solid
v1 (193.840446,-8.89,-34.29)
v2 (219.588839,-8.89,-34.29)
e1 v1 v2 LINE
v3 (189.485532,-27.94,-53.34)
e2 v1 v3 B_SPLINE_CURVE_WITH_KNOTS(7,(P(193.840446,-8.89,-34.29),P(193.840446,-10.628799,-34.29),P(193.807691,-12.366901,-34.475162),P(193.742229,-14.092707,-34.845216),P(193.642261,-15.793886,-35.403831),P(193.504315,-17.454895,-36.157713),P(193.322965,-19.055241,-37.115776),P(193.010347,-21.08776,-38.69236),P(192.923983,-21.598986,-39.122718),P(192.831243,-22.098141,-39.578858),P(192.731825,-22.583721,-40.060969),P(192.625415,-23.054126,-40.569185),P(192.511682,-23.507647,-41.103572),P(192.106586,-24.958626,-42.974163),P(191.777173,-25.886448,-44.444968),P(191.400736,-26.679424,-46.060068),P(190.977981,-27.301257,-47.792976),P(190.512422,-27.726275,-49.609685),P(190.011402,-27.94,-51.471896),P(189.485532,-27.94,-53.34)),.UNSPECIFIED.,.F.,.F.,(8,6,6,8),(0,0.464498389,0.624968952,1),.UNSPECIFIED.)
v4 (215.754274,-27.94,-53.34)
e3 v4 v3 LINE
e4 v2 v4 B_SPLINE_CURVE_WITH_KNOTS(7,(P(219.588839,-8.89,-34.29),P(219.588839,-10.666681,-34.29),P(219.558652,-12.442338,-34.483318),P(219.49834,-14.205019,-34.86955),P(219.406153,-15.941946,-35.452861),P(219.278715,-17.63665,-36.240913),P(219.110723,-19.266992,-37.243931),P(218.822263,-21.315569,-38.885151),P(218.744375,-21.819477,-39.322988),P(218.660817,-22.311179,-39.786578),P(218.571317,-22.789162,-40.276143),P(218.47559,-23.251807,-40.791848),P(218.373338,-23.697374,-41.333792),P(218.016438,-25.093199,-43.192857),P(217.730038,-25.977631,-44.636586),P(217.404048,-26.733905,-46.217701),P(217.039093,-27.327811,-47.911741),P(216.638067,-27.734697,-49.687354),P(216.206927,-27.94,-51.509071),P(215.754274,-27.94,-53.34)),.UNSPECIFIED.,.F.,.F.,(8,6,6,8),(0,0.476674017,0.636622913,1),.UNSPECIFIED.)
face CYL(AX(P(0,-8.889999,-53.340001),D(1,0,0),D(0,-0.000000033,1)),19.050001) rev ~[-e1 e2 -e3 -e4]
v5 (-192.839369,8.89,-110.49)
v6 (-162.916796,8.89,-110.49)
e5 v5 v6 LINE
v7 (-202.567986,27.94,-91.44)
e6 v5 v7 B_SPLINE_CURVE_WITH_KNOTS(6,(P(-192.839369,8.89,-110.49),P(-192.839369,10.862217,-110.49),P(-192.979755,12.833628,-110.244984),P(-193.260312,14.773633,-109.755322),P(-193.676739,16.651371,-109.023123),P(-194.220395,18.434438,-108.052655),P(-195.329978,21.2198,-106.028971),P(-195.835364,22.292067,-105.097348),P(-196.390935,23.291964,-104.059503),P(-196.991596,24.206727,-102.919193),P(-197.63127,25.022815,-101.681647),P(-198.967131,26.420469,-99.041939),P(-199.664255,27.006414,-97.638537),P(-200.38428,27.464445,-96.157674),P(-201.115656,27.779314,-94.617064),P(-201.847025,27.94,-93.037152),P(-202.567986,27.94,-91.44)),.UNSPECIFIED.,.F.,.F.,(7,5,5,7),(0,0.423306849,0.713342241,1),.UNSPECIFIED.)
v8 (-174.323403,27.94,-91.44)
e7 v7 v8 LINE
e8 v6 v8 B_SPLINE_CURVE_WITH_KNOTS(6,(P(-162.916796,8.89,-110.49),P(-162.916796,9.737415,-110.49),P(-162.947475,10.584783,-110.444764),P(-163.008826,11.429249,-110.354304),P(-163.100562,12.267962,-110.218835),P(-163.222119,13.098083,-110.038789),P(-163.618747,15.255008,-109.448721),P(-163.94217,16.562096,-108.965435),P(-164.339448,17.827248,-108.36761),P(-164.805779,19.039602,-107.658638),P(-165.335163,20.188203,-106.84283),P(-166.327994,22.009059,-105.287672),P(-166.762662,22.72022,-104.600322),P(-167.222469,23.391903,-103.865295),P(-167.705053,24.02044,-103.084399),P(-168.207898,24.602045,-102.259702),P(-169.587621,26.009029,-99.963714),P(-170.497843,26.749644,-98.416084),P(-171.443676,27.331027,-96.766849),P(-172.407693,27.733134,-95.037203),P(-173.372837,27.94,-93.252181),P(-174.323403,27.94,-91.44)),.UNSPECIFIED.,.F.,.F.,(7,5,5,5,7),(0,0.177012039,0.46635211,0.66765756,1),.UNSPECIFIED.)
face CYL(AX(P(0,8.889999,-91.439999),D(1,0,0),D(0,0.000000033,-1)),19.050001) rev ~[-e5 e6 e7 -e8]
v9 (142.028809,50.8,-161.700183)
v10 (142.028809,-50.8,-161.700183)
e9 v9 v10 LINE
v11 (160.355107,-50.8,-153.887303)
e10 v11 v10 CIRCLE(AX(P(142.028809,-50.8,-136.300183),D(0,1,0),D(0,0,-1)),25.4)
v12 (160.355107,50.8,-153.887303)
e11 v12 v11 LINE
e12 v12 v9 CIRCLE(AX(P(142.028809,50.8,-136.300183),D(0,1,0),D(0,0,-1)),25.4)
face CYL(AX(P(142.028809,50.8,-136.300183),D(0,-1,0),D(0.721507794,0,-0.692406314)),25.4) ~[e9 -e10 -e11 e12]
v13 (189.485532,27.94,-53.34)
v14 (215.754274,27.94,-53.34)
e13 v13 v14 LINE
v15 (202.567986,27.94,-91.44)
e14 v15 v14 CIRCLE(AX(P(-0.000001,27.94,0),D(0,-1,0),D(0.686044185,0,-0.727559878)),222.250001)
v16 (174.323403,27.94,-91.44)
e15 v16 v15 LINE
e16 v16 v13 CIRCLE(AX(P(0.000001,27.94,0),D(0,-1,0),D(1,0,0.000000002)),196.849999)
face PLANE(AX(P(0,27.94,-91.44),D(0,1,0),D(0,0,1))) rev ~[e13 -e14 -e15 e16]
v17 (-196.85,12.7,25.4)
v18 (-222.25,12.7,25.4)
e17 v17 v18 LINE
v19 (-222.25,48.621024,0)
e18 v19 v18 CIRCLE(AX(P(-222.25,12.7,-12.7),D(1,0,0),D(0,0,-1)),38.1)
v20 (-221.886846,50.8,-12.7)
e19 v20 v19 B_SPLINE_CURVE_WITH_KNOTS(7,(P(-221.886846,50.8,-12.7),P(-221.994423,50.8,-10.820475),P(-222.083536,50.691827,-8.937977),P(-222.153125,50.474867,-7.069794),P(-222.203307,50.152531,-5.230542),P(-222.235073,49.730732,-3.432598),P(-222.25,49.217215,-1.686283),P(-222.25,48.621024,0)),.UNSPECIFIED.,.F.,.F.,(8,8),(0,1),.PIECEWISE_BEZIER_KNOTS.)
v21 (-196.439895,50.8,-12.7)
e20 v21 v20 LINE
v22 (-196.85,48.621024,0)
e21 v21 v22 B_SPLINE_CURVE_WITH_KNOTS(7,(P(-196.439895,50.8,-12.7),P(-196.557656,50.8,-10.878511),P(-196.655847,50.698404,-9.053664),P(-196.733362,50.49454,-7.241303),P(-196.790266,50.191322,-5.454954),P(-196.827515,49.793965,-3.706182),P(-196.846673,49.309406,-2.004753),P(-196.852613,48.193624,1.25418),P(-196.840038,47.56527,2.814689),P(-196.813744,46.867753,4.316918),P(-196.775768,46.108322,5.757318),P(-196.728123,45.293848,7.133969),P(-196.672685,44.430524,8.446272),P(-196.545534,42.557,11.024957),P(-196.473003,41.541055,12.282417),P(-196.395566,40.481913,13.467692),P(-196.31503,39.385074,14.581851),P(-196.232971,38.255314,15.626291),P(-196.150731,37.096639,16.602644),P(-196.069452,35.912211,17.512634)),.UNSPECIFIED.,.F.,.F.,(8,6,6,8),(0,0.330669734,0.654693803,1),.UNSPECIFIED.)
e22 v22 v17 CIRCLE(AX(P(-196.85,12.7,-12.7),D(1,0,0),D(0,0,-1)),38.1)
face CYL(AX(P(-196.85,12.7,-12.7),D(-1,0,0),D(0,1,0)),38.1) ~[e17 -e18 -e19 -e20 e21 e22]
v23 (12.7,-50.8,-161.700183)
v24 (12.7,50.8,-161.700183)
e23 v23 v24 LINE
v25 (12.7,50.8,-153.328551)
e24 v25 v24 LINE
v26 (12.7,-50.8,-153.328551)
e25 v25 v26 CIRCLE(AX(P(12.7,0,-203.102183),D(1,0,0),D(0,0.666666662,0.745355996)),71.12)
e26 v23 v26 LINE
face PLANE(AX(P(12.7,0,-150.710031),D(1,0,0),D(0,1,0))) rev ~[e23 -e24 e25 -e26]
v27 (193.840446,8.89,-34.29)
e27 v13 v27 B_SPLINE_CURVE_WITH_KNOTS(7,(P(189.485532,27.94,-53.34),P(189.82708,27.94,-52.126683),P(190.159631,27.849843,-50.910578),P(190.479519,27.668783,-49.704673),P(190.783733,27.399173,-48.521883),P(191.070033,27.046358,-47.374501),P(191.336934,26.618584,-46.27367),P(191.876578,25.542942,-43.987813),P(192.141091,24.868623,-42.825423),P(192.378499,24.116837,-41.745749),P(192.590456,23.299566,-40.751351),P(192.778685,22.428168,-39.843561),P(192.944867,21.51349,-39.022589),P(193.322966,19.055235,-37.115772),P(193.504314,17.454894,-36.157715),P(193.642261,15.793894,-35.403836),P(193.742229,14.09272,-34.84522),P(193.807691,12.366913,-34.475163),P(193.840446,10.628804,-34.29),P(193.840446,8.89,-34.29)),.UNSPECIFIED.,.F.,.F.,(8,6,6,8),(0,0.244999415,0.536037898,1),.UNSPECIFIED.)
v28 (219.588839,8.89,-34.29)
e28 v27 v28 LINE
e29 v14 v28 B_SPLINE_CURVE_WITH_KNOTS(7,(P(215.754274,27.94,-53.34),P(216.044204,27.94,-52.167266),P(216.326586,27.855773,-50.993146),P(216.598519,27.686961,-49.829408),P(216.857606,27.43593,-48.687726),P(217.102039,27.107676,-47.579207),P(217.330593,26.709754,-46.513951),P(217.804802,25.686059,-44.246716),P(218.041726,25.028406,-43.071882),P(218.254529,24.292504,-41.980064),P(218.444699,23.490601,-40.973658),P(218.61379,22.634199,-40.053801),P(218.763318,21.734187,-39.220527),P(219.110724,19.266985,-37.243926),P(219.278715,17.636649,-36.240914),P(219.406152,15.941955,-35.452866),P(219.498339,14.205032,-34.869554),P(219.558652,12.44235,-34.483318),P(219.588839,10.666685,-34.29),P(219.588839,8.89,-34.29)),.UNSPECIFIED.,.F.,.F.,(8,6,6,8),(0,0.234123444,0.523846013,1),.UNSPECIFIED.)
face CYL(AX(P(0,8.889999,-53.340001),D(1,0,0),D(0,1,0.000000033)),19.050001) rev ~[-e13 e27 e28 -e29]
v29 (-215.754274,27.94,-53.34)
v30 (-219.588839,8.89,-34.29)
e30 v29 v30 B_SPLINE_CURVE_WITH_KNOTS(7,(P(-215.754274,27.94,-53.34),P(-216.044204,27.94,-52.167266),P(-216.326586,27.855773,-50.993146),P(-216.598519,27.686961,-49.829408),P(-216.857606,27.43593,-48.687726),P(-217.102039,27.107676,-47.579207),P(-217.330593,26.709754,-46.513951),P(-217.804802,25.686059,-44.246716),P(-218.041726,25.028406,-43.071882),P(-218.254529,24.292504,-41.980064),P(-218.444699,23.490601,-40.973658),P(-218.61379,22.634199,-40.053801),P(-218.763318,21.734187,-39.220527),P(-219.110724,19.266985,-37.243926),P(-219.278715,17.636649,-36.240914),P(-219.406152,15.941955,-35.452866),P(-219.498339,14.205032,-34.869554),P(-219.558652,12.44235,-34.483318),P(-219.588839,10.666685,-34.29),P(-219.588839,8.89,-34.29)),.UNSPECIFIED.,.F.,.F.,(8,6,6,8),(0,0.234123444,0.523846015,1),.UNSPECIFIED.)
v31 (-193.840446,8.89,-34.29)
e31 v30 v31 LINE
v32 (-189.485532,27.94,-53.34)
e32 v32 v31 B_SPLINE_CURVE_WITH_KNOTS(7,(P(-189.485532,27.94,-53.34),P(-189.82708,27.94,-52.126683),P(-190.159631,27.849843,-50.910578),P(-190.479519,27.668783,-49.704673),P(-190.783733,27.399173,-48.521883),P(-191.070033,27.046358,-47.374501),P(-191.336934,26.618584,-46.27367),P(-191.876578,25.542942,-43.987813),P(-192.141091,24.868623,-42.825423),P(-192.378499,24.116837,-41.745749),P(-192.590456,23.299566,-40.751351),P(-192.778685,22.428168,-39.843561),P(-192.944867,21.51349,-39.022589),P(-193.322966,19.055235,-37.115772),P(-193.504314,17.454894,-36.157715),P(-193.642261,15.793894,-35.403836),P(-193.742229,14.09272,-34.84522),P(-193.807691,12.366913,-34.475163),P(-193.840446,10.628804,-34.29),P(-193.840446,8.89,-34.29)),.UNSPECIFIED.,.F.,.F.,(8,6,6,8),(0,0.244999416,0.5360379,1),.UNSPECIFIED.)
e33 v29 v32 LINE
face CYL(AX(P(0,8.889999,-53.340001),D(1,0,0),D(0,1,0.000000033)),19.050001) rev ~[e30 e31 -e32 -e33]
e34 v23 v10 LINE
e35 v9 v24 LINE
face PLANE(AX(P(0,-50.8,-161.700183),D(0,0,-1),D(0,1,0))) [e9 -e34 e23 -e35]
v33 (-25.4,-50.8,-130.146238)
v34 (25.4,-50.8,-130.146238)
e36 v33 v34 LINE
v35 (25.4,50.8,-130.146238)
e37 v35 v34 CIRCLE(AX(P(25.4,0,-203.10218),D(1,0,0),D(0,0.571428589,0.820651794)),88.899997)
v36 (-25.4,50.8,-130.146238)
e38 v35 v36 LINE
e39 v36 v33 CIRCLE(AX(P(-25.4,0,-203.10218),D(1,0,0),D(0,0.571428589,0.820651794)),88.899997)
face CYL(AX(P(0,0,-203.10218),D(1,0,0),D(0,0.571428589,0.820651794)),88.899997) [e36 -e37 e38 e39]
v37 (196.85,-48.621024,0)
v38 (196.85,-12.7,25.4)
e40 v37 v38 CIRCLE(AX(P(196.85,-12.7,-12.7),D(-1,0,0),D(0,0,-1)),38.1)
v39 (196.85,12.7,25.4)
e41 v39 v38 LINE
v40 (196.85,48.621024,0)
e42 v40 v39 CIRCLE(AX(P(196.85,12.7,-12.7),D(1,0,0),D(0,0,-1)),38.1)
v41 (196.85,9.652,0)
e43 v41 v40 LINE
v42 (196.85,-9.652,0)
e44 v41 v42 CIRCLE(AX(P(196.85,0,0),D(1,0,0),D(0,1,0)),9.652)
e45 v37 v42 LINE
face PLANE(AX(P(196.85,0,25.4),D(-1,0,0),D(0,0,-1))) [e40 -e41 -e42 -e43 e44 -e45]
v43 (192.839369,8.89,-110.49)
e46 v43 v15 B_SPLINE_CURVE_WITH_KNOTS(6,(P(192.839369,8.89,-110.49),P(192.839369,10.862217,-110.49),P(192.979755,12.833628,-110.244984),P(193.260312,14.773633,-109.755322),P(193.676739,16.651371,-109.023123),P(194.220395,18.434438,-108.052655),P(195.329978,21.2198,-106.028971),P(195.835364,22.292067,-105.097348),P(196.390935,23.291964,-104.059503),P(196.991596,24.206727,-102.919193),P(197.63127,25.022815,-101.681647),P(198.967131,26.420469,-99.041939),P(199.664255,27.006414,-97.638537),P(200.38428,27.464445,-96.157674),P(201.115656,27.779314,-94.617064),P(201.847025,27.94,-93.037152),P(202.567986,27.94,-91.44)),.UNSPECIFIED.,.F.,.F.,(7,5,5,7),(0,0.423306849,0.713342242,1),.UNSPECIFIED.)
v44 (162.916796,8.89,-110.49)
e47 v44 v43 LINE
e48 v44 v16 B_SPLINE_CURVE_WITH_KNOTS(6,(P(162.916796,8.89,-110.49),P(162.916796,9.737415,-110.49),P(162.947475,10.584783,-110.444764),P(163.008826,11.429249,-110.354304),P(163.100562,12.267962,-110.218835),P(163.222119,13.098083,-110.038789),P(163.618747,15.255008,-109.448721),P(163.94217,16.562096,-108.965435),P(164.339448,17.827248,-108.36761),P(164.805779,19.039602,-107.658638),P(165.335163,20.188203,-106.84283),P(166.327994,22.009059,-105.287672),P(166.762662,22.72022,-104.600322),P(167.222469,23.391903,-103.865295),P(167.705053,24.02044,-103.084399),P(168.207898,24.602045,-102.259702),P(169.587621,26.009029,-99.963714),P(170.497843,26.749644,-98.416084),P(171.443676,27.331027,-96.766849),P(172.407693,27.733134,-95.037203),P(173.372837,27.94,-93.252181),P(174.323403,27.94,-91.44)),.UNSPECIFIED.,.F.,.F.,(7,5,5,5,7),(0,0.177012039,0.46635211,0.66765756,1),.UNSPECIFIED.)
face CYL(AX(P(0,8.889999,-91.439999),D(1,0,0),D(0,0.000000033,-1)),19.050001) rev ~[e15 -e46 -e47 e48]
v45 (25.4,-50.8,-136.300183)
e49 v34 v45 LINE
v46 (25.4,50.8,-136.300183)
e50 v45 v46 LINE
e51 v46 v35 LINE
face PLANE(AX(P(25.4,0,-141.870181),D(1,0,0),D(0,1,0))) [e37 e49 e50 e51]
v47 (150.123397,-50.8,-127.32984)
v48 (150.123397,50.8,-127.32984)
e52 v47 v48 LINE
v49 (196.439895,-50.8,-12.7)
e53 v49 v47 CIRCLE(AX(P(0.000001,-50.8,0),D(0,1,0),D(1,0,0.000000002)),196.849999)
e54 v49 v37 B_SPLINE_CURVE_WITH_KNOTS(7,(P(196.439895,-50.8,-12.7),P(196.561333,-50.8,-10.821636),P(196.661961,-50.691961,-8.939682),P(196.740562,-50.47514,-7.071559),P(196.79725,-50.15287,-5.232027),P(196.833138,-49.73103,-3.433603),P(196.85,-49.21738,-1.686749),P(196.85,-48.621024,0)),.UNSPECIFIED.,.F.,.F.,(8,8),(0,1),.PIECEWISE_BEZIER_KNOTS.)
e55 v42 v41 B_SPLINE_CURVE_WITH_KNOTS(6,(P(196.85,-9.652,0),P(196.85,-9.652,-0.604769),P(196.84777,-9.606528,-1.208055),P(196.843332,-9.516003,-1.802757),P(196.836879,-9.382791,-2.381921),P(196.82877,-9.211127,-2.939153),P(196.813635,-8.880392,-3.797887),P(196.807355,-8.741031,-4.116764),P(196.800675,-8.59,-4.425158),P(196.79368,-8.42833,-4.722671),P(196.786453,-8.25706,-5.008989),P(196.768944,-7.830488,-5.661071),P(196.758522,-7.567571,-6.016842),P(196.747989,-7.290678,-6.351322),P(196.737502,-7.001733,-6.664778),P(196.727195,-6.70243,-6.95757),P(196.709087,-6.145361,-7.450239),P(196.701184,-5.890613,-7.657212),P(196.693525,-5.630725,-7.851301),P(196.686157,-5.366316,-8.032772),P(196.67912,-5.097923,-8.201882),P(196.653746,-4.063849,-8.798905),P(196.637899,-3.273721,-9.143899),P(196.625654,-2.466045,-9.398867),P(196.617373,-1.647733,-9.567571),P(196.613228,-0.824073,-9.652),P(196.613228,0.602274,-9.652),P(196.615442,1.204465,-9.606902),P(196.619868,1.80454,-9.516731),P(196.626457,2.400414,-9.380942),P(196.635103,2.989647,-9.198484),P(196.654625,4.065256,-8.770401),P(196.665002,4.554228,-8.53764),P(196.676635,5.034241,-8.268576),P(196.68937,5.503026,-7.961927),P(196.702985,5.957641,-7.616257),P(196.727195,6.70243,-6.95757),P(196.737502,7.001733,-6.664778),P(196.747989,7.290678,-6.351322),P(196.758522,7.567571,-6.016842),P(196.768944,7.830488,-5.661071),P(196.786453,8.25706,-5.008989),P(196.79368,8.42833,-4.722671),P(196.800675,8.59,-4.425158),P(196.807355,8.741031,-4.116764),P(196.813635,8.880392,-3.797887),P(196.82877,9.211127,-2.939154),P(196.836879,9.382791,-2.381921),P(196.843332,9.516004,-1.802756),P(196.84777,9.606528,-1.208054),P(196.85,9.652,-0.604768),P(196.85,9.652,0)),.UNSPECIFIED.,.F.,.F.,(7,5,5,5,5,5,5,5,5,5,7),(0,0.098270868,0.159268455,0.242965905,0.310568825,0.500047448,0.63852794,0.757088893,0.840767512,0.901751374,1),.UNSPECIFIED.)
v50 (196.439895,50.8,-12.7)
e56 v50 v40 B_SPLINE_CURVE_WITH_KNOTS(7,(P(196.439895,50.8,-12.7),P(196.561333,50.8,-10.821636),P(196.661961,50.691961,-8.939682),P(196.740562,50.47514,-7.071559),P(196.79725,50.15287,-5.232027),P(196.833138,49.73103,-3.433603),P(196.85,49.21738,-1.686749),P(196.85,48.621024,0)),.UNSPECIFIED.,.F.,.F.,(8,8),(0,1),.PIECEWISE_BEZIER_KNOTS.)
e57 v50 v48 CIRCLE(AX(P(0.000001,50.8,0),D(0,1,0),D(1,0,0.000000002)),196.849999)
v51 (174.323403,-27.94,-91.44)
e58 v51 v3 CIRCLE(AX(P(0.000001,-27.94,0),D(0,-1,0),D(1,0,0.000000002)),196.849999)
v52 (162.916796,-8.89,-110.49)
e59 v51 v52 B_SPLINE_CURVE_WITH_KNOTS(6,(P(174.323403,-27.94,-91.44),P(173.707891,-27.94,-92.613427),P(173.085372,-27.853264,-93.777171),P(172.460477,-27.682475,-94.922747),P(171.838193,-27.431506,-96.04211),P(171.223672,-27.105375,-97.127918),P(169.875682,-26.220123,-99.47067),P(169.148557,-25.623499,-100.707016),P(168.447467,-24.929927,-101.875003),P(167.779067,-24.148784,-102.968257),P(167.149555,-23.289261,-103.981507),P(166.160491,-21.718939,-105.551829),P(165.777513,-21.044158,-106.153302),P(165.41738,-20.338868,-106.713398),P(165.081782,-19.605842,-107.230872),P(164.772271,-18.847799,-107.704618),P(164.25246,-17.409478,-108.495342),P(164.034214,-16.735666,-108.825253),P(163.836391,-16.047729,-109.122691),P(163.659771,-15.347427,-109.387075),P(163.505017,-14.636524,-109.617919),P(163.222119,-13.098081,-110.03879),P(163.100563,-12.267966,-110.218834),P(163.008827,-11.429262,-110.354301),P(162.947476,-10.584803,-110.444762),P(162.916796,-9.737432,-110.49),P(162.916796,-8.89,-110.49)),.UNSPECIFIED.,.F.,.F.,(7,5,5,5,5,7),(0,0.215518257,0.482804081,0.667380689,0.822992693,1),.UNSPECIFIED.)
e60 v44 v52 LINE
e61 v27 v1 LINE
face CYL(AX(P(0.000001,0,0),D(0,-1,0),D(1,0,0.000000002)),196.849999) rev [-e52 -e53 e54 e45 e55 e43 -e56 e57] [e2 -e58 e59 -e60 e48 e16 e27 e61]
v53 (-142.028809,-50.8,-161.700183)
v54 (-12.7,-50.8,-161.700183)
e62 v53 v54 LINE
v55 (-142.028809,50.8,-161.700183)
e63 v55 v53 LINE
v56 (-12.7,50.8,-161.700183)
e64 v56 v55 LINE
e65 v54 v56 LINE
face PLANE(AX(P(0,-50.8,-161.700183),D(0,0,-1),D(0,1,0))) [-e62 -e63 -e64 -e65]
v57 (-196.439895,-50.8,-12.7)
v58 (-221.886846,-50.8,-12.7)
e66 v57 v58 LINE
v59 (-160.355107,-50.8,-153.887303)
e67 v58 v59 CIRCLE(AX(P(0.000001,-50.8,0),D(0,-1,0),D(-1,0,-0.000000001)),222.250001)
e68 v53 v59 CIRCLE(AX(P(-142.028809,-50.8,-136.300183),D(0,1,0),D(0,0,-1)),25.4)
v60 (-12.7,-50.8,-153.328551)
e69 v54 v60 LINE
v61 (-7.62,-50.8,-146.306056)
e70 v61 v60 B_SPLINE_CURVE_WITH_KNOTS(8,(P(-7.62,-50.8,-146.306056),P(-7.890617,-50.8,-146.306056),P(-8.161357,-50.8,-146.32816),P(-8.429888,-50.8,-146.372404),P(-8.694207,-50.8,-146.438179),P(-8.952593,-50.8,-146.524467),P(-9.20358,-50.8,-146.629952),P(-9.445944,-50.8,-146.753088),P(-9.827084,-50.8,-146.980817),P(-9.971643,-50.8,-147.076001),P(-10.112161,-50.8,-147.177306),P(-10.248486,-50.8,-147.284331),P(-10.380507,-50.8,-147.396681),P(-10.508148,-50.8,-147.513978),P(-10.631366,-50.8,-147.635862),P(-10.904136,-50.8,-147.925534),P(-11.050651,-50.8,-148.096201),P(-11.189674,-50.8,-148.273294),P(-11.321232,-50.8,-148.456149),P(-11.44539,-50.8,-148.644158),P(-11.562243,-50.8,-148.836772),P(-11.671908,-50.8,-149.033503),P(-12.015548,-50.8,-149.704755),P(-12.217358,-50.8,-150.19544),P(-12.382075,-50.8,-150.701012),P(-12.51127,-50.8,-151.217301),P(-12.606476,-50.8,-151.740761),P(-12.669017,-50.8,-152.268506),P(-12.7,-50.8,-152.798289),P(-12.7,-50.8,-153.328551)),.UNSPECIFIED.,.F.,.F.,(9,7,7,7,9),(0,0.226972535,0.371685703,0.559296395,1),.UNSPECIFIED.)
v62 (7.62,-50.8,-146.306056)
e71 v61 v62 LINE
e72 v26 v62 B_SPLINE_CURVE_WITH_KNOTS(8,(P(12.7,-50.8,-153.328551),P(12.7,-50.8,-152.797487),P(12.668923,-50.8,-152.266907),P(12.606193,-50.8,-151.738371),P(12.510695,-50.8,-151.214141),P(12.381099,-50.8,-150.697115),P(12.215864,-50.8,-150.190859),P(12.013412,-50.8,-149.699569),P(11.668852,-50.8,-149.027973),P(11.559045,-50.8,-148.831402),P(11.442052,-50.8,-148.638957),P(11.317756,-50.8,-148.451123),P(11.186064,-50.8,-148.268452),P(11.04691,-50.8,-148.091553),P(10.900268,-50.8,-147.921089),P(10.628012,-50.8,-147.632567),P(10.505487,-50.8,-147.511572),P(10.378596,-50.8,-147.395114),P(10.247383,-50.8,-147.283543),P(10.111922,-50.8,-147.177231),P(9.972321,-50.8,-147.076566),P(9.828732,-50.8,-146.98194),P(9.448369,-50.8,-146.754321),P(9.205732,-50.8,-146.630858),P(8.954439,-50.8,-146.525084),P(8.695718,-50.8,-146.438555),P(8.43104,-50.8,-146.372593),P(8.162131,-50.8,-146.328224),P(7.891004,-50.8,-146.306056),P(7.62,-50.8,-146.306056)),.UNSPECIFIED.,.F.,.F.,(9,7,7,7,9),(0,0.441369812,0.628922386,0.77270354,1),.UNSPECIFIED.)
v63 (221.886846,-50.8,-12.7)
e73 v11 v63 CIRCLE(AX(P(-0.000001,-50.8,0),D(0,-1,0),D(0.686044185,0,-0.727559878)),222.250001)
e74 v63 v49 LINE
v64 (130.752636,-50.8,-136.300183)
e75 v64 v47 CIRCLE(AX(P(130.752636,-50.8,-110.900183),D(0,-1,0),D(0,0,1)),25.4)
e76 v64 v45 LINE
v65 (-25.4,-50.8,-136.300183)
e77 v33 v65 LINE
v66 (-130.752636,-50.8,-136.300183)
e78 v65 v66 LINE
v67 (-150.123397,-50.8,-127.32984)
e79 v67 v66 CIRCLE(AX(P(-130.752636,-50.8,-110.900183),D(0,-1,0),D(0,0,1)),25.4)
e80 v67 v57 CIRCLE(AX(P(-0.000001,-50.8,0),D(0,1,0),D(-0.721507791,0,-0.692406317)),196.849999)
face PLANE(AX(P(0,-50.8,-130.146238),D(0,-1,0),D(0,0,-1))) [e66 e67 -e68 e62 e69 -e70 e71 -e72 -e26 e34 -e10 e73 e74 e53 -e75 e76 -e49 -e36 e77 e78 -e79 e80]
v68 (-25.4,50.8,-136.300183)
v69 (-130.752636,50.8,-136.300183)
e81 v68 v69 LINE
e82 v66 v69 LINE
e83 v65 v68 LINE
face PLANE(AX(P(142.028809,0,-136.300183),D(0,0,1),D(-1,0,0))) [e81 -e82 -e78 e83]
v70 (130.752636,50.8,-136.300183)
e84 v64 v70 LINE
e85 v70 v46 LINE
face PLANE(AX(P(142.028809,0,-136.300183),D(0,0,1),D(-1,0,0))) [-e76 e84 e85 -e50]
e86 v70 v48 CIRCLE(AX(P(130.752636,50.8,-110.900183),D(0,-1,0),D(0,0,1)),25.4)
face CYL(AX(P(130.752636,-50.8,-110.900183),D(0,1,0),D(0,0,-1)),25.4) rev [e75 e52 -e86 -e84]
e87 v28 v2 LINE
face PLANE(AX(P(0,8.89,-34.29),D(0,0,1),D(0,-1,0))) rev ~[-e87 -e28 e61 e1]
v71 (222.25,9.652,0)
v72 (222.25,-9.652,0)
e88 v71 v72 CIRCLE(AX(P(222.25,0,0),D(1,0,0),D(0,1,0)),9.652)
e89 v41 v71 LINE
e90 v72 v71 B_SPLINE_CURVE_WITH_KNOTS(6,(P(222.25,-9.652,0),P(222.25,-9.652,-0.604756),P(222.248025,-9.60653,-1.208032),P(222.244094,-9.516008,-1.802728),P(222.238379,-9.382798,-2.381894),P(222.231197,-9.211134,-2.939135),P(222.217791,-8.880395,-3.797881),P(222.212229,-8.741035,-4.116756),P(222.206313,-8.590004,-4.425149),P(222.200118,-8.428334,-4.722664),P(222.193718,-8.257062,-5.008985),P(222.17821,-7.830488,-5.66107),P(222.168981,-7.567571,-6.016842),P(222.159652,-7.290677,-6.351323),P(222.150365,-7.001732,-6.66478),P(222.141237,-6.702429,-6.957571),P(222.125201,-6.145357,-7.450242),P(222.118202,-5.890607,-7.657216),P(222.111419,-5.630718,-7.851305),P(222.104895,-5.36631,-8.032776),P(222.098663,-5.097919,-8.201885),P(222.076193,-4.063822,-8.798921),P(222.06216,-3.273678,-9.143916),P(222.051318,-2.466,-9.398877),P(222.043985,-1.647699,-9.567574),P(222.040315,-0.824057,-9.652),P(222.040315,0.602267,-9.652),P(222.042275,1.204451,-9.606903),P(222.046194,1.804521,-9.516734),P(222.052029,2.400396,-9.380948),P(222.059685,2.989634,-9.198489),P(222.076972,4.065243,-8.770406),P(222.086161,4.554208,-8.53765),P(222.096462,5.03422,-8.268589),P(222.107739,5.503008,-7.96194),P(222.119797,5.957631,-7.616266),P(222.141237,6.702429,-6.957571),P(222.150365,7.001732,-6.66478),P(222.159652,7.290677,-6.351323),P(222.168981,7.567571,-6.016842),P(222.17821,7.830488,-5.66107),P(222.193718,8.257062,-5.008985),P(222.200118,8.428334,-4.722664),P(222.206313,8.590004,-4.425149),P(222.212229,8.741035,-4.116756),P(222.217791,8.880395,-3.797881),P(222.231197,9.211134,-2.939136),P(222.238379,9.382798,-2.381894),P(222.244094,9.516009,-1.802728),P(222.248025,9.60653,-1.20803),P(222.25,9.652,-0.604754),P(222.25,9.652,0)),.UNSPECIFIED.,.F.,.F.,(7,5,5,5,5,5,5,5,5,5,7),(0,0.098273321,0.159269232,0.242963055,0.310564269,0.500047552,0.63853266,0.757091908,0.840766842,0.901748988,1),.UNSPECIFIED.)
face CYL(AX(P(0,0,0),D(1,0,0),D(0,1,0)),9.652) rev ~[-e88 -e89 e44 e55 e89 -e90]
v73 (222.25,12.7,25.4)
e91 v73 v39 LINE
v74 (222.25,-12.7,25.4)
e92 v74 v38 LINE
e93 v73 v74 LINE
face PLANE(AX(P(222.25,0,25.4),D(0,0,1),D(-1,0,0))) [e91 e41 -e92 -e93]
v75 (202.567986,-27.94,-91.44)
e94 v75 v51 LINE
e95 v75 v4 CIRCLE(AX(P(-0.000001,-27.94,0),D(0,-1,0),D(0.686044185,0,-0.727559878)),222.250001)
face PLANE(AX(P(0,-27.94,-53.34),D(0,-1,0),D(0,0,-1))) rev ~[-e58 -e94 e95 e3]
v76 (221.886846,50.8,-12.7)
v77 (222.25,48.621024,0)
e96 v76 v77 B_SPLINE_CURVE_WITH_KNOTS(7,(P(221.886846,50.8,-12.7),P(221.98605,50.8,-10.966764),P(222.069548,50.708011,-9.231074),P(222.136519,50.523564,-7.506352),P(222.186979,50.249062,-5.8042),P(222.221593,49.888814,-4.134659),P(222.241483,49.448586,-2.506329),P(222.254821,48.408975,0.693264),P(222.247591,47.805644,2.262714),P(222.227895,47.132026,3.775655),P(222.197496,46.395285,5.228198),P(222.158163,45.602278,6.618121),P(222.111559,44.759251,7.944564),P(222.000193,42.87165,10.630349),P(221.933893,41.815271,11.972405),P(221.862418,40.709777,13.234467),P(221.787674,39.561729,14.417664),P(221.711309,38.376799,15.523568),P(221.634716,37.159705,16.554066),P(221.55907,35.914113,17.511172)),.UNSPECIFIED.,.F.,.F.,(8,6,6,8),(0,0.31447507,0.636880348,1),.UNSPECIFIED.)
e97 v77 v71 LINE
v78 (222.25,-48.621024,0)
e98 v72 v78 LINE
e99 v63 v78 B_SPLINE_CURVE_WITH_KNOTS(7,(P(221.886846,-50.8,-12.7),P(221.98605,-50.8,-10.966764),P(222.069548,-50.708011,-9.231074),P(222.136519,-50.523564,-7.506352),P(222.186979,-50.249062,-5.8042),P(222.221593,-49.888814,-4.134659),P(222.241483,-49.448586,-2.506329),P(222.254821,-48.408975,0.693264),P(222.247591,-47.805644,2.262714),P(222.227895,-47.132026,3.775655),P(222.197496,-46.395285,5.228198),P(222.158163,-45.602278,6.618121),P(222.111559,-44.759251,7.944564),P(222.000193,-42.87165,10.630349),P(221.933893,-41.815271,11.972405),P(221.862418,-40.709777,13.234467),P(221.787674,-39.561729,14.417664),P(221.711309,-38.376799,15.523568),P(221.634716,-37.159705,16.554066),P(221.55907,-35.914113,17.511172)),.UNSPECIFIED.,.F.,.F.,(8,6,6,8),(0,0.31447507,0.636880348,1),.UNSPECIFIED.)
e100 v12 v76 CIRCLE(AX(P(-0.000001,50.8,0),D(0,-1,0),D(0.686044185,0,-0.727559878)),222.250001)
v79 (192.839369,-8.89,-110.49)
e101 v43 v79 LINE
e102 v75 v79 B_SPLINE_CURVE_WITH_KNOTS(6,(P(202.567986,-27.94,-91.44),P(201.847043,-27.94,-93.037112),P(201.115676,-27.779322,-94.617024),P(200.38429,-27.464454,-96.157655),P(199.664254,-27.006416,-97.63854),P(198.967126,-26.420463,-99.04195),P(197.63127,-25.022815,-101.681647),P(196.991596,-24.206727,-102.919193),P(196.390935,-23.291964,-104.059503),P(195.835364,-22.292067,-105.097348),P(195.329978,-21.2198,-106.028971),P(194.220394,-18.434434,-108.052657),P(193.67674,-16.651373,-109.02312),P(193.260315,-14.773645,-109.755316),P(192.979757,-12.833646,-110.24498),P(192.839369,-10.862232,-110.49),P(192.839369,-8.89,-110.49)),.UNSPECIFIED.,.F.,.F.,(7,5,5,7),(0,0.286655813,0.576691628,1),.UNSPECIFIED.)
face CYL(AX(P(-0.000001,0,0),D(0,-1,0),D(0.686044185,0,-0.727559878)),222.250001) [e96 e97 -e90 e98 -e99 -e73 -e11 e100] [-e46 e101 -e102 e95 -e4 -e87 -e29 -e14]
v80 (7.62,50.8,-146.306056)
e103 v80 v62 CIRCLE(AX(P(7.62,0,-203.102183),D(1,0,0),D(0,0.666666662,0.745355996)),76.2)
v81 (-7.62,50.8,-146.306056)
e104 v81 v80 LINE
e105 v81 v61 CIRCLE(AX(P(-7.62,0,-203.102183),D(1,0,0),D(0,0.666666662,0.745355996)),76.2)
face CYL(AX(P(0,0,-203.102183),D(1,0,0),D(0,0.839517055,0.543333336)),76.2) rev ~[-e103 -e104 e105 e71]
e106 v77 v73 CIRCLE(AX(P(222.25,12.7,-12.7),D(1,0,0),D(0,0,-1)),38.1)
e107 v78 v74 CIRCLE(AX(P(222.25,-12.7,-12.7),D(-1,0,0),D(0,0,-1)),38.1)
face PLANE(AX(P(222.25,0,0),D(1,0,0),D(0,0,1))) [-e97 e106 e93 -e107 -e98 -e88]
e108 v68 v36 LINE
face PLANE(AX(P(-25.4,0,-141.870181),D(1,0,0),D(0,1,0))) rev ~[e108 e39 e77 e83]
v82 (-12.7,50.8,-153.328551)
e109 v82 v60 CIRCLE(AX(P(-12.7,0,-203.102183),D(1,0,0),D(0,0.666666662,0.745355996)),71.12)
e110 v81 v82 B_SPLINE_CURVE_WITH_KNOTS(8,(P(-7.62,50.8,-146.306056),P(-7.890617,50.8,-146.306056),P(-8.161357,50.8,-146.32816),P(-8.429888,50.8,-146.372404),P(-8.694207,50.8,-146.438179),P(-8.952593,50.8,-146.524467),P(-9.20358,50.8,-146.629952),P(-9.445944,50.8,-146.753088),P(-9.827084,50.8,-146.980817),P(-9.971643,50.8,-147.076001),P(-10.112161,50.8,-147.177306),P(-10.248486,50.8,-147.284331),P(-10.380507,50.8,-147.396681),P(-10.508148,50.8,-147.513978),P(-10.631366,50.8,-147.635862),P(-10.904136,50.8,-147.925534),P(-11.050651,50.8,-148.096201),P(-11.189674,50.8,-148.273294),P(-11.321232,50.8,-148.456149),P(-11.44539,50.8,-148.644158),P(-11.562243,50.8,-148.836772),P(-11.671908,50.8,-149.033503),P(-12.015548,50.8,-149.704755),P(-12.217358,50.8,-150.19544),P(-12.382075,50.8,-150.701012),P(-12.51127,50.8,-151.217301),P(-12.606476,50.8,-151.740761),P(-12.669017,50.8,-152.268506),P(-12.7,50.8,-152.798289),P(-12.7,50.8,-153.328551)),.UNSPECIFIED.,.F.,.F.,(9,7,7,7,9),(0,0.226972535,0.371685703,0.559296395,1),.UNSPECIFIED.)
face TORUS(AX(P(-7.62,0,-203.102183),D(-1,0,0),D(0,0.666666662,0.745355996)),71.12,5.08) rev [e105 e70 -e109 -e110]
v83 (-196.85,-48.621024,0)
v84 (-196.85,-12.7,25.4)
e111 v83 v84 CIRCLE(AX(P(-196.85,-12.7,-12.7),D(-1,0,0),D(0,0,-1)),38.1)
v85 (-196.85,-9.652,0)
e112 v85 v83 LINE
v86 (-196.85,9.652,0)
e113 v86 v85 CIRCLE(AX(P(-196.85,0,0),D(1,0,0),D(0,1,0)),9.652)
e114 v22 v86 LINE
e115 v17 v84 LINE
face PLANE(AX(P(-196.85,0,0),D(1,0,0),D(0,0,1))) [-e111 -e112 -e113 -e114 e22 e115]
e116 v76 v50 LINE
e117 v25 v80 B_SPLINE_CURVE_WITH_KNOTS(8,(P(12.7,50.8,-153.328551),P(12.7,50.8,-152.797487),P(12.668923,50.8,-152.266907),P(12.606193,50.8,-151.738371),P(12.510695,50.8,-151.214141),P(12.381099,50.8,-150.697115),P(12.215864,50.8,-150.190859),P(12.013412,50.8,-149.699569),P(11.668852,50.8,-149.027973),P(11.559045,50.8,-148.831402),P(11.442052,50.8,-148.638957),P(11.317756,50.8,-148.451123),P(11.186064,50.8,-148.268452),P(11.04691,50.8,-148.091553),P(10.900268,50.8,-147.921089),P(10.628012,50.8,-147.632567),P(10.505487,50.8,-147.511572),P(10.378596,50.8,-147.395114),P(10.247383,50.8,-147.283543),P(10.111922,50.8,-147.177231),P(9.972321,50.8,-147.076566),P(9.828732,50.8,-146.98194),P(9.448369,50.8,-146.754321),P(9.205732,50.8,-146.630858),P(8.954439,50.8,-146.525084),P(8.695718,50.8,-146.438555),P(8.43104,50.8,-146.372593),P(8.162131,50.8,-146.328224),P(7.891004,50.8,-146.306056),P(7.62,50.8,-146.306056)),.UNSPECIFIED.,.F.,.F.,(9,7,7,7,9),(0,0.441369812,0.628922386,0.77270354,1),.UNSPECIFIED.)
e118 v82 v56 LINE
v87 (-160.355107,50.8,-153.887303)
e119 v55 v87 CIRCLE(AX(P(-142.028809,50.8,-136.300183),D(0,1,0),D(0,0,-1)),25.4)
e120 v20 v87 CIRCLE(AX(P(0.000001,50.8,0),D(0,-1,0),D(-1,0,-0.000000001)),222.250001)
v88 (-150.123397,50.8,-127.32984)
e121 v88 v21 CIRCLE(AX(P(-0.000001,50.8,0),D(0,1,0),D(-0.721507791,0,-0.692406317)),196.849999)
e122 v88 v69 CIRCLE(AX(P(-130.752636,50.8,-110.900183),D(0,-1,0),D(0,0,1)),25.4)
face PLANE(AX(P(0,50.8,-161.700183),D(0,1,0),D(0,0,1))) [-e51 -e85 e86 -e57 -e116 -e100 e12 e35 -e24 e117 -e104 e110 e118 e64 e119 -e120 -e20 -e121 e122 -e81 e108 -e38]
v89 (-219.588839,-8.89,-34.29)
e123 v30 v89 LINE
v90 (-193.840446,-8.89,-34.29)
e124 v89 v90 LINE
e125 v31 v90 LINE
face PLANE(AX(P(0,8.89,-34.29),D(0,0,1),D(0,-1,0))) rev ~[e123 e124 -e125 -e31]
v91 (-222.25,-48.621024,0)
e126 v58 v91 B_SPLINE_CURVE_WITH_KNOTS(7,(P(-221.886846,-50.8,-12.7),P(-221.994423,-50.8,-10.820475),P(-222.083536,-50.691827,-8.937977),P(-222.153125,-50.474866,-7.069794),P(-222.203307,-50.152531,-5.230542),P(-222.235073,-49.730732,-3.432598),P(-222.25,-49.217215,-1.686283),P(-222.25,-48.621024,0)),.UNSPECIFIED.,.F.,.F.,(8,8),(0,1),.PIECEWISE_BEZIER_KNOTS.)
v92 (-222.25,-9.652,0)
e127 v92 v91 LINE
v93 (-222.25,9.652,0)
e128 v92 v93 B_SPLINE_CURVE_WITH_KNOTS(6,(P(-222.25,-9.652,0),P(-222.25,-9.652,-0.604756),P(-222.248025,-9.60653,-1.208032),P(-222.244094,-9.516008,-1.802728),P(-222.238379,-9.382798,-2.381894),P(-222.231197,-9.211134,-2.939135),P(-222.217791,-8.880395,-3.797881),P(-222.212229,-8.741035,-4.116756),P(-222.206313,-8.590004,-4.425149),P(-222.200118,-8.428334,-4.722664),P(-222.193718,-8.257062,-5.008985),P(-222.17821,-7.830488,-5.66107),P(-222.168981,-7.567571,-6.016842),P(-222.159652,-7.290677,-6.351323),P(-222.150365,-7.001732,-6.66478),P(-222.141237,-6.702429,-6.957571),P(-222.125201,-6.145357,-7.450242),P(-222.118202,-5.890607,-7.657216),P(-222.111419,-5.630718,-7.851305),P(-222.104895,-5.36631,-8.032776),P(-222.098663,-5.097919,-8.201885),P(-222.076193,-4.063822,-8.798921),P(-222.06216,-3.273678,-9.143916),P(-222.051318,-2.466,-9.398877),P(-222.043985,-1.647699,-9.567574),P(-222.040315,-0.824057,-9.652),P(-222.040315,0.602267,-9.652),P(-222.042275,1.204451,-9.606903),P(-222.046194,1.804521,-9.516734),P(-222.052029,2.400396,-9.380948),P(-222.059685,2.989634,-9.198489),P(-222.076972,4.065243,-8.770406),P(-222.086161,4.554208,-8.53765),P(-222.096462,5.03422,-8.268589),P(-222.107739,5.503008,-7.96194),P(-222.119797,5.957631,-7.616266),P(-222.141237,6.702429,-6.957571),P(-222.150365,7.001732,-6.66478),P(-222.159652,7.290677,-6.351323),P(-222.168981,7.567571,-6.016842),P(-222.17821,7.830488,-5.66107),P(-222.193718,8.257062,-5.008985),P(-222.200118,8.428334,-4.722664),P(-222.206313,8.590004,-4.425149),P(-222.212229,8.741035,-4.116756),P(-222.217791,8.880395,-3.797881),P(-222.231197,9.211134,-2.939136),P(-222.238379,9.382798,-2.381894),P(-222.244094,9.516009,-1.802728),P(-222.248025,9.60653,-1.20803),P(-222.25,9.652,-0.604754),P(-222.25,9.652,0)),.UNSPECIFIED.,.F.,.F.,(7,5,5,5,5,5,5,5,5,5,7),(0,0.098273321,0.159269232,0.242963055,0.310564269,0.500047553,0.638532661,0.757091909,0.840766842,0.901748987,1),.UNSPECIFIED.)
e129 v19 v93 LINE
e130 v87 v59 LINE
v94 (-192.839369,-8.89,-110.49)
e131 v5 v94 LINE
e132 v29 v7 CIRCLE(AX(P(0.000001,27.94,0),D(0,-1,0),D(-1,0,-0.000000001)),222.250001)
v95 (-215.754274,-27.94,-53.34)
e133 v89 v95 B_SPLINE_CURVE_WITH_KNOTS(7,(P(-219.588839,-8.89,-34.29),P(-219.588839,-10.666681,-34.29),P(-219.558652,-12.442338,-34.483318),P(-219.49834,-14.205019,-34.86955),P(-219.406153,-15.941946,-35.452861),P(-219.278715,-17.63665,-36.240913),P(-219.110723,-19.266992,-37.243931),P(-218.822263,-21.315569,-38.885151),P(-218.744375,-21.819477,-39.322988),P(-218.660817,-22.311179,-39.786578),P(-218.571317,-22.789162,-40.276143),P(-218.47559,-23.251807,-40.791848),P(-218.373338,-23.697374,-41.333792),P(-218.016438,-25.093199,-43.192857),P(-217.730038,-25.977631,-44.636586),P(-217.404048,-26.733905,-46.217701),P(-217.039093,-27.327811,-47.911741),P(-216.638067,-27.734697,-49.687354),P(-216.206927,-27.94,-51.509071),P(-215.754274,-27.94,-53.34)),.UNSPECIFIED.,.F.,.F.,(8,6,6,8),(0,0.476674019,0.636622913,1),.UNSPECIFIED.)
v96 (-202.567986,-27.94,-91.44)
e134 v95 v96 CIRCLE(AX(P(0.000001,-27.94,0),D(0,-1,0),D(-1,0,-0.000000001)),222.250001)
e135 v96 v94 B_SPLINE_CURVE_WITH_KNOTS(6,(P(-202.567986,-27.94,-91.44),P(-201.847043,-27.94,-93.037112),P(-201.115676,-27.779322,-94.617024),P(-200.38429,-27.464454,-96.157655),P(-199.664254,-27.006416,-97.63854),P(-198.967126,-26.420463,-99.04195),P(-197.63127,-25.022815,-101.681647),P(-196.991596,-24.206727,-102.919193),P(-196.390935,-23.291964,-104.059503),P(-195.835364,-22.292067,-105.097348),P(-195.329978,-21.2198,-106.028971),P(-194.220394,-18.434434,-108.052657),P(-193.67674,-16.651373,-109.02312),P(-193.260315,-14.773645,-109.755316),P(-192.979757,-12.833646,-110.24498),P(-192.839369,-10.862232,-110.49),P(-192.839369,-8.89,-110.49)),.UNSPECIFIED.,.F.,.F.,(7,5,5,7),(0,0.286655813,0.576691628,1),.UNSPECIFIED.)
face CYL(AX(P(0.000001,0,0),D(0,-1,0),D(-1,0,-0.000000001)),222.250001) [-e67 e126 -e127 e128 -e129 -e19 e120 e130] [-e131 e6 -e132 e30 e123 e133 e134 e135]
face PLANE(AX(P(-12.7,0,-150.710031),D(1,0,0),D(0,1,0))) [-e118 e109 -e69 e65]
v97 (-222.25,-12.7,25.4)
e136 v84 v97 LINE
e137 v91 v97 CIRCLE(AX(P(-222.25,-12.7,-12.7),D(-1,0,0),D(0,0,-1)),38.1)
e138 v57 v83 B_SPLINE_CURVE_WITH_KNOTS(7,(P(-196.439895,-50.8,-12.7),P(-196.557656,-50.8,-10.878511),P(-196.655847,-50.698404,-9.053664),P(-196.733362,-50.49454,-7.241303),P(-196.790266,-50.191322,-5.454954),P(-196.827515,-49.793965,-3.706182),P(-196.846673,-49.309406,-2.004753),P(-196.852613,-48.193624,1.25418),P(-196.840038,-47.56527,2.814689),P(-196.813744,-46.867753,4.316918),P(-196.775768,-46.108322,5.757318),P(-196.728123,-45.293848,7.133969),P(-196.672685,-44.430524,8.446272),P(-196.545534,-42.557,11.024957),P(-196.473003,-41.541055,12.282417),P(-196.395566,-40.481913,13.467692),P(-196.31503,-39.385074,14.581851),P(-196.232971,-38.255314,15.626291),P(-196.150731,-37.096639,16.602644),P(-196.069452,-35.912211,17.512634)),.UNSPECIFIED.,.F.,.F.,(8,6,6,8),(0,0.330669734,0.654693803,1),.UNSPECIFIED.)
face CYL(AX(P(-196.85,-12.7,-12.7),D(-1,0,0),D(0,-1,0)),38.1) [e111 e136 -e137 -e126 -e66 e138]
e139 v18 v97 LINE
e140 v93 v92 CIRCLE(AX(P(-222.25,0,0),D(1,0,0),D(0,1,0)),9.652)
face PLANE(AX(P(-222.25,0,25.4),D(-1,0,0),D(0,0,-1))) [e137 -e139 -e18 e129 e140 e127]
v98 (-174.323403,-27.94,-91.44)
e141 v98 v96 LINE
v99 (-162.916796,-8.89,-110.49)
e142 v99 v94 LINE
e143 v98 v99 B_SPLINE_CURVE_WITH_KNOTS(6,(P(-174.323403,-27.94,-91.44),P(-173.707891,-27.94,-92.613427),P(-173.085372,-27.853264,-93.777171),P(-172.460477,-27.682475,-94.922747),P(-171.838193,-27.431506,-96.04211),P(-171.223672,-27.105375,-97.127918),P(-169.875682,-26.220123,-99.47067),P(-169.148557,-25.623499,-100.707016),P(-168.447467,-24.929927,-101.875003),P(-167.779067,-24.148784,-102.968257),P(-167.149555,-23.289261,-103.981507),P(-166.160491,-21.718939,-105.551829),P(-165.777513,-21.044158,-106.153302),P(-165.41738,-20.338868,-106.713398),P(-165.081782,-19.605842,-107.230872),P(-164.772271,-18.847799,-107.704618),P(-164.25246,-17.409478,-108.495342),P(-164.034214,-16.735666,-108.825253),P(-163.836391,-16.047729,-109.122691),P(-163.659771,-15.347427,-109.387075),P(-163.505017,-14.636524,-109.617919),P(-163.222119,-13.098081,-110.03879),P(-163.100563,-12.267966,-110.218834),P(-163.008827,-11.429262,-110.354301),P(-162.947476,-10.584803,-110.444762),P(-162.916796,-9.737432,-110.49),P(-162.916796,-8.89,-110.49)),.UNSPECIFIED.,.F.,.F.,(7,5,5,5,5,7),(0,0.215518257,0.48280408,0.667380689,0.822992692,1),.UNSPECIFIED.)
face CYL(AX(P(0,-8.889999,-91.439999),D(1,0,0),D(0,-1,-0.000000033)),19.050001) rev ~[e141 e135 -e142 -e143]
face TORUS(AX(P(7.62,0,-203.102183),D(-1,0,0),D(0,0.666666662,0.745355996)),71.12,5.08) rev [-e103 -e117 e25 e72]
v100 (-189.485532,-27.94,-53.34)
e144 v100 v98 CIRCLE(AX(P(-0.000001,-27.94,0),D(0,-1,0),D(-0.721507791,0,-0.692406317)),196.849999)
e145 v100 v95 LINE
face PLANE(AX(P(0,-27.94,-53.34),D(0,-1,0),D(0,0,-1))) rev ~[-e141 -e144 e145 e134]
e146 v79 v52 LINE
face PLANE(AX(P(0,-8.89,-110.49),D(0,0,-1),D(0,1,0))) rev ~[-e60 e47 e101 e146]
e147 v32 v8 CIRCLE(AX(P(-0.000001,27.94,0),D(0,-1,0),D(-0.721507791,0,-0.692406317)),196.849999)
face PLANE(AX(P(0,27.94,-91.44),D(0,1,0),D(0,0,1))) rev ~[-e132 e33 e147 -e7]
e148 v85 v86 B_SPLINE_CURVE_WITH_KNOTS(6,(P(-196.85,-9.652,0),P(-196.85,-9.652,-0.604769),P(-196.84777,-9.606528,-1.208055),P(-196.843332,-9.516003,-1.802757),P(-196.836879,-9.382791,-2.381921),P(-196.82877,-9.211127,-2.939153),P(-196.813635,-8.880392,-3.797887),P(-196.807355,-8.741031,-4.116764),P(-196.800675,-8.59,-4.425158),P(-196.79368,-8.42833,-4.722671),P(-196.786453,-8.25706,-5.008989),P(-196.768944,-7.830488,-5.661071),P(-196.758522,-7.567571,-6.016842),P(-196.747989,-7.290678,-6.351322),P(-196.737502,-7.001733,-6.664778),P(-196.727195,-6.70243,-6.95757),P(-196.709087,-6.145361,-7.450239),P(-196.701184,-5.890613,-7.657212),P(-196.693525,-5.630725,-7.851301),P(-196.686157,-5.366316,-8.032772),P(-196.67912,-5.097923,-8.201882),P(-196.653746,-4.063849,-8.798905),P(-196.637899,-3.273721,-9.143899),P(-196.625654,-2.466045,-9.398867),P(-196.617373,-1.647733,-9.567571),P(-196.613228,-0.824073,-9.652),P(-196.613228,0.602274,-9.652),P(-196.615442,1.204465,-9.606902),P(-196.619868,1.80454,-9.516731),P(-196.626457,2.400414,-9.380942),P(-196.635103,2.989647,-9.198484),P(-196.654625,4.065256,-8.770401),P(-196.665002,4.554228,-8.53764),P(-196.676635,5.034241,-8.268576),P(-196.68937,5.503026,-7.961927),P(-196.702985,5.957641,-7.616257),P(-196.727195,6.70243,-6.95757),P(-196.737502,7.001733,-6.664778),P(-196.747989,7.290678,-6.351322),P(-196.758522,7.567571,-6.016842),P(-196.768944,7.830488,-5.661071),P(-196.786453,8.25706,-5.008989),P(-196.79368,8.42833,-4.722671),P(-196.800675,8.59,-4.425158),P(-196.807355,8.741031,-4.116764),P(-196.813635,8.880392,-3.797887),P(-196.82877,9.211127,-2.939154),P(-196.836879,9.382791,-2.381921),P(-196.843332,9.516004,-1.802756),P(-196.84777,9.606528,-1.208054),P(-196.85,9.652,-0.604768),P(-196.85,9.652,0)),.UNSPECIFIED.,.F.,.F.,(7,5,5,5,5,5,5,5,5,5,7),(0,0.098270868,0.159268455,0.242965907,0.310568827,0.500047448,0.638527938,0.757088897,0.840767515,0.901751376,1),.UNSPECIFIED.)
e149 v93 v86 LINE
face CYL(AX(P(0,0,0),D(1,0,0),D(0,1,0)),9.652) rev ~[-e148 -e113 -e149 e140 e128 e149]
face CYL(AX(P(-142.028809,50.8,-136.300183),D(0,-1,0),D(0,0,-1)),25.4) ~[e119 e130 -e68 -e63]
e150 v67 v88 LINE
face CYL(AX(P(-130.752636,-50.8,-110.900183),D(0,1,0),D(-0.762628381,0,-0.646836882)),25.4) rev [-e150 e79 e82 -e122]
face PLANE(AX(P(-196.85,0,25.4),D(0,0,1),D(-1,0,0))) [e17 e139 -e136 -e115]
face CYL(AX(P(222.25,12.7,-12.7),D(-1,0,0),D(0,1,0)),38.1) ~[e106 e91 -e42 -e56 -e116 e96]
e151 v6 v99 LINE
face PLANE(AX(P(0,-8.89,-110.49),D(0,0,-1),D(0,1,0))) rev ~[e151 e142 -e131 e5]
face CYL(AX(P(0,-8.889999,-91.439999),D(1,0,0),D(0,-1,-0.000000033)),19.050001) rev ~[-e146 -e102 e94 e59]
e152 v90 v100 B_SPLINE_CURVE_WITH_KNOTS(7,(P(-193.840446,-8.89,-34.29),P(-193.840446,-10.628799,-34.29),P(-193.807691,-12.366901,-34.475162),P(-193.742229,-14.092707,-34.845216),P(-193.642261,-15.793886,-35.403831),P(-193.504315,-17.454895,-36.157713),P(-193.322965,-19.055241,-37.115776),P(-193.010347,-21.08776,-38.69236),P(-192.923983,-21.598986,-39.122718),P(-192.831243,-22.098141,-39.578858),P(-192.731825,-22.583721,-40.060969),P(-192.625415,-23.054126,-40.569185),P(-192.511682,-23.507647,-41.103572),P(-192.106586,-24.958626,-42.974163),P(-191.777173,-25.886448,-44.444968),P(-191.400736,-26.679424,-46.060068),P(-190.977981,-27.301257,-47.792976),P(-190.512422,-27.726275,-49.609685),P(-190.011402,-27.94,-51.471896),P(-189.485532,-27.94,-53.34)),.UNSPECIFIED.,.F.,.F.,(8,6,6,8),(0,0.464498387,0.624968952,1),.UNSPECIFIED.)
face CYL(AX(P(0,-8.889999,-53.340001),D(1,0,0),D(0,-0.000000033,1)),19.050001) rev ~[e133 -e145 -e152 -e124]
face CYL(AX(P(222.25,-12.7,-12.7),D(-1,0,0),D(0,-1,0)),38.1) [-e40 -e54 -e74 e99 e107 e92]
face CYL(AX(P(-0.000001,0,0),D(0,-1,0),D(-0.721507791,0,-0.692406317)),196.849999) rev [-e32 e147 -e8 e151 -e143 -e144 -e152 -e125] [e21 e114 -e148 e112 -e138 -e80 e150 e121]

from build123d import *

# Parameters (mm, degrees)
F1_DEPTH  = 50.8
F2_R      = 25.4
F3_R      = 38.1
F4_R      = 9.652
F5_DEPTH  = 241.3
F8_DEPTH  = 25.4
F10_DEPTH = 12.7
F12_DEPTH = 279.4
F13_R     = 5.08


with BuildPart() as f1:
    # F0 (on Front) → F1 (new body, symmetric)
    with BuildSketch(Plane.XZ):
        with BuildLine():
            ThreePointArc((-142.028809, -136.300183), (-182.631177, -73.455944), (-196.85, 0))
            Line((-196.85, 0), (-196.85, 25.4))
            Line((-196.85, 25.4), (-222.25, 25.4))
            Line((-222.25, 25.4), (-222.25, 0))
            ThreePointArc((-222.25, 0), (-204.061581, -88.056423), (-152.47332, -161.700183))
            Line((-152.47332, -161.700183), (-112.262965, -161.700183))
            Line((-112.262965, -161.700183), (112.262965, -161.700183))
            Line((112.262965, -161.700183), (152.47332, -161.700183))
            ThreePointArc((152.47332, -161.700183), (204.061581, -88.056423), (222.25, 0))
            Line((222.25, 0), (222.25, 25.4))
            Line((222.25, 25.4), (196.85, 25.4))
            Line((196.85, 25.4), (196.85, 0))
            ThreePointArc((196.85, 0), (182.631177, -73.455944), (142.028809, -136.300183))
            Line((142.028809, -136.300183), (-142.028809, -136.300183))
        make_face()
    extrude(amount=F1_DEPTH, both=True)

    # F2
    f2_edges = [f1.edges().sort_by_distance(p)[0] for p in [
        (-142.028809, 0, -136.300183),
        (-152.47332, 0, -161.700183),
        (152.47332, 0, -161.700183),
        (142.028809, 0, -136.300183),
    ]]
    fillet(f2_edges, radius=F2_R)

    # F3
    f3_edges = [f1.edges().sort_by_distance(p)[0] for p in [
        (-209.55, -50.8, 25.4),
        (-209.55, 50.8, 25.4),
        (209.55, 50.8, 25.4),
        (209.55, -50.8, 25.4),
    ]]
    fillet(f3_edges, radius=F3_R)

    # F4 (on Right) → F5 (cut, symmetric)
    with BuildSketch(Plane.YZ):
        Circle(F4_R)
    extrude(amount=F5_DEPTH, both=True, mode=Mode.SUBTRACT)

    # F7 (on Right) → F8 (join, symmetric)
    with BuildSketch(Plane.YZ):
        with BuildLine():
            Line((50.8, -153.887304), (50.8, -130.146238))
            ThreePointArc((50.8, -130.146238), (0, -114.202183), (-50.8, -130.146238))
            Line((-50.8, -130.146238), (-50.8, -153.887304))
            Line((-50.8, -153.887304), (-50.8, -161.700183))
            Line((-50.8, -161.700183), (50.8, -161.700183))
            Line((50.8, -161.700183), (50.8, -153.887304))
        make_face()
    extrude(amount=F8_DEPTH, both=True)

    # F9 (on Right) → F10 (cut, symmetric)
    with BuildSketch(Plane.YZ):
        with BuildLine():
            Line((50.8, -161.700183), (63.9712, -161.700183))
            ThreePointArc((63.9712, -161.700183), (0, -126.902183), (-63.9712, -161.700183))
            Line((-63.9712, -161.700183), (-50.8, -161.700183))
            Line((-50.8, -161.700183), (50.8, -161.700183))
        make_face()
    extrude(amount=F10_DEPTH, both=True, mode=Mode.SUBTRACT)

    # F11 (on Right) → F12 (cut, symmetric)
    with BuildSketch(Plane.YZ):
        with BuildLine():
            Line((-8.89, -110.49), (8.89, -110.49))
            ThreePointArc((8.89, -110.49), (22.360384, -104.910384), (27.94, -91.44))
            Line((27.94, -91.44), (27.94, -53.34))
            ThreePointArc((27.94, -53.34), (22.360384, -39.869616), (8.89, -34.29))
            Line((8.89, -34.29), (-8.89, -34.29))
            ThreePointArc((-8.89, -34.29), (-22.360384, -39.869616), (-27.94, -53.34))
            Line((-27.94, -53.34), (-27.94, -91.44))
            ThreePointArc((-27.94, -91.44), (-22.360384, -104.910384), (-8.89, -110.49))
        make_face()
    extrude(amount=F12_DEPTH, both=True, mode=Mode.SUBTRACT)

    # F13
    f13_edges = [f1.edges().sort_by_distance(p)[0] for p in [
        (12.7, 0, -126.902183),
        (-12.7, 0, -126.902183),
    ]]
    fillet(f13_edges, radius=F13_R)


solid = f1.part
